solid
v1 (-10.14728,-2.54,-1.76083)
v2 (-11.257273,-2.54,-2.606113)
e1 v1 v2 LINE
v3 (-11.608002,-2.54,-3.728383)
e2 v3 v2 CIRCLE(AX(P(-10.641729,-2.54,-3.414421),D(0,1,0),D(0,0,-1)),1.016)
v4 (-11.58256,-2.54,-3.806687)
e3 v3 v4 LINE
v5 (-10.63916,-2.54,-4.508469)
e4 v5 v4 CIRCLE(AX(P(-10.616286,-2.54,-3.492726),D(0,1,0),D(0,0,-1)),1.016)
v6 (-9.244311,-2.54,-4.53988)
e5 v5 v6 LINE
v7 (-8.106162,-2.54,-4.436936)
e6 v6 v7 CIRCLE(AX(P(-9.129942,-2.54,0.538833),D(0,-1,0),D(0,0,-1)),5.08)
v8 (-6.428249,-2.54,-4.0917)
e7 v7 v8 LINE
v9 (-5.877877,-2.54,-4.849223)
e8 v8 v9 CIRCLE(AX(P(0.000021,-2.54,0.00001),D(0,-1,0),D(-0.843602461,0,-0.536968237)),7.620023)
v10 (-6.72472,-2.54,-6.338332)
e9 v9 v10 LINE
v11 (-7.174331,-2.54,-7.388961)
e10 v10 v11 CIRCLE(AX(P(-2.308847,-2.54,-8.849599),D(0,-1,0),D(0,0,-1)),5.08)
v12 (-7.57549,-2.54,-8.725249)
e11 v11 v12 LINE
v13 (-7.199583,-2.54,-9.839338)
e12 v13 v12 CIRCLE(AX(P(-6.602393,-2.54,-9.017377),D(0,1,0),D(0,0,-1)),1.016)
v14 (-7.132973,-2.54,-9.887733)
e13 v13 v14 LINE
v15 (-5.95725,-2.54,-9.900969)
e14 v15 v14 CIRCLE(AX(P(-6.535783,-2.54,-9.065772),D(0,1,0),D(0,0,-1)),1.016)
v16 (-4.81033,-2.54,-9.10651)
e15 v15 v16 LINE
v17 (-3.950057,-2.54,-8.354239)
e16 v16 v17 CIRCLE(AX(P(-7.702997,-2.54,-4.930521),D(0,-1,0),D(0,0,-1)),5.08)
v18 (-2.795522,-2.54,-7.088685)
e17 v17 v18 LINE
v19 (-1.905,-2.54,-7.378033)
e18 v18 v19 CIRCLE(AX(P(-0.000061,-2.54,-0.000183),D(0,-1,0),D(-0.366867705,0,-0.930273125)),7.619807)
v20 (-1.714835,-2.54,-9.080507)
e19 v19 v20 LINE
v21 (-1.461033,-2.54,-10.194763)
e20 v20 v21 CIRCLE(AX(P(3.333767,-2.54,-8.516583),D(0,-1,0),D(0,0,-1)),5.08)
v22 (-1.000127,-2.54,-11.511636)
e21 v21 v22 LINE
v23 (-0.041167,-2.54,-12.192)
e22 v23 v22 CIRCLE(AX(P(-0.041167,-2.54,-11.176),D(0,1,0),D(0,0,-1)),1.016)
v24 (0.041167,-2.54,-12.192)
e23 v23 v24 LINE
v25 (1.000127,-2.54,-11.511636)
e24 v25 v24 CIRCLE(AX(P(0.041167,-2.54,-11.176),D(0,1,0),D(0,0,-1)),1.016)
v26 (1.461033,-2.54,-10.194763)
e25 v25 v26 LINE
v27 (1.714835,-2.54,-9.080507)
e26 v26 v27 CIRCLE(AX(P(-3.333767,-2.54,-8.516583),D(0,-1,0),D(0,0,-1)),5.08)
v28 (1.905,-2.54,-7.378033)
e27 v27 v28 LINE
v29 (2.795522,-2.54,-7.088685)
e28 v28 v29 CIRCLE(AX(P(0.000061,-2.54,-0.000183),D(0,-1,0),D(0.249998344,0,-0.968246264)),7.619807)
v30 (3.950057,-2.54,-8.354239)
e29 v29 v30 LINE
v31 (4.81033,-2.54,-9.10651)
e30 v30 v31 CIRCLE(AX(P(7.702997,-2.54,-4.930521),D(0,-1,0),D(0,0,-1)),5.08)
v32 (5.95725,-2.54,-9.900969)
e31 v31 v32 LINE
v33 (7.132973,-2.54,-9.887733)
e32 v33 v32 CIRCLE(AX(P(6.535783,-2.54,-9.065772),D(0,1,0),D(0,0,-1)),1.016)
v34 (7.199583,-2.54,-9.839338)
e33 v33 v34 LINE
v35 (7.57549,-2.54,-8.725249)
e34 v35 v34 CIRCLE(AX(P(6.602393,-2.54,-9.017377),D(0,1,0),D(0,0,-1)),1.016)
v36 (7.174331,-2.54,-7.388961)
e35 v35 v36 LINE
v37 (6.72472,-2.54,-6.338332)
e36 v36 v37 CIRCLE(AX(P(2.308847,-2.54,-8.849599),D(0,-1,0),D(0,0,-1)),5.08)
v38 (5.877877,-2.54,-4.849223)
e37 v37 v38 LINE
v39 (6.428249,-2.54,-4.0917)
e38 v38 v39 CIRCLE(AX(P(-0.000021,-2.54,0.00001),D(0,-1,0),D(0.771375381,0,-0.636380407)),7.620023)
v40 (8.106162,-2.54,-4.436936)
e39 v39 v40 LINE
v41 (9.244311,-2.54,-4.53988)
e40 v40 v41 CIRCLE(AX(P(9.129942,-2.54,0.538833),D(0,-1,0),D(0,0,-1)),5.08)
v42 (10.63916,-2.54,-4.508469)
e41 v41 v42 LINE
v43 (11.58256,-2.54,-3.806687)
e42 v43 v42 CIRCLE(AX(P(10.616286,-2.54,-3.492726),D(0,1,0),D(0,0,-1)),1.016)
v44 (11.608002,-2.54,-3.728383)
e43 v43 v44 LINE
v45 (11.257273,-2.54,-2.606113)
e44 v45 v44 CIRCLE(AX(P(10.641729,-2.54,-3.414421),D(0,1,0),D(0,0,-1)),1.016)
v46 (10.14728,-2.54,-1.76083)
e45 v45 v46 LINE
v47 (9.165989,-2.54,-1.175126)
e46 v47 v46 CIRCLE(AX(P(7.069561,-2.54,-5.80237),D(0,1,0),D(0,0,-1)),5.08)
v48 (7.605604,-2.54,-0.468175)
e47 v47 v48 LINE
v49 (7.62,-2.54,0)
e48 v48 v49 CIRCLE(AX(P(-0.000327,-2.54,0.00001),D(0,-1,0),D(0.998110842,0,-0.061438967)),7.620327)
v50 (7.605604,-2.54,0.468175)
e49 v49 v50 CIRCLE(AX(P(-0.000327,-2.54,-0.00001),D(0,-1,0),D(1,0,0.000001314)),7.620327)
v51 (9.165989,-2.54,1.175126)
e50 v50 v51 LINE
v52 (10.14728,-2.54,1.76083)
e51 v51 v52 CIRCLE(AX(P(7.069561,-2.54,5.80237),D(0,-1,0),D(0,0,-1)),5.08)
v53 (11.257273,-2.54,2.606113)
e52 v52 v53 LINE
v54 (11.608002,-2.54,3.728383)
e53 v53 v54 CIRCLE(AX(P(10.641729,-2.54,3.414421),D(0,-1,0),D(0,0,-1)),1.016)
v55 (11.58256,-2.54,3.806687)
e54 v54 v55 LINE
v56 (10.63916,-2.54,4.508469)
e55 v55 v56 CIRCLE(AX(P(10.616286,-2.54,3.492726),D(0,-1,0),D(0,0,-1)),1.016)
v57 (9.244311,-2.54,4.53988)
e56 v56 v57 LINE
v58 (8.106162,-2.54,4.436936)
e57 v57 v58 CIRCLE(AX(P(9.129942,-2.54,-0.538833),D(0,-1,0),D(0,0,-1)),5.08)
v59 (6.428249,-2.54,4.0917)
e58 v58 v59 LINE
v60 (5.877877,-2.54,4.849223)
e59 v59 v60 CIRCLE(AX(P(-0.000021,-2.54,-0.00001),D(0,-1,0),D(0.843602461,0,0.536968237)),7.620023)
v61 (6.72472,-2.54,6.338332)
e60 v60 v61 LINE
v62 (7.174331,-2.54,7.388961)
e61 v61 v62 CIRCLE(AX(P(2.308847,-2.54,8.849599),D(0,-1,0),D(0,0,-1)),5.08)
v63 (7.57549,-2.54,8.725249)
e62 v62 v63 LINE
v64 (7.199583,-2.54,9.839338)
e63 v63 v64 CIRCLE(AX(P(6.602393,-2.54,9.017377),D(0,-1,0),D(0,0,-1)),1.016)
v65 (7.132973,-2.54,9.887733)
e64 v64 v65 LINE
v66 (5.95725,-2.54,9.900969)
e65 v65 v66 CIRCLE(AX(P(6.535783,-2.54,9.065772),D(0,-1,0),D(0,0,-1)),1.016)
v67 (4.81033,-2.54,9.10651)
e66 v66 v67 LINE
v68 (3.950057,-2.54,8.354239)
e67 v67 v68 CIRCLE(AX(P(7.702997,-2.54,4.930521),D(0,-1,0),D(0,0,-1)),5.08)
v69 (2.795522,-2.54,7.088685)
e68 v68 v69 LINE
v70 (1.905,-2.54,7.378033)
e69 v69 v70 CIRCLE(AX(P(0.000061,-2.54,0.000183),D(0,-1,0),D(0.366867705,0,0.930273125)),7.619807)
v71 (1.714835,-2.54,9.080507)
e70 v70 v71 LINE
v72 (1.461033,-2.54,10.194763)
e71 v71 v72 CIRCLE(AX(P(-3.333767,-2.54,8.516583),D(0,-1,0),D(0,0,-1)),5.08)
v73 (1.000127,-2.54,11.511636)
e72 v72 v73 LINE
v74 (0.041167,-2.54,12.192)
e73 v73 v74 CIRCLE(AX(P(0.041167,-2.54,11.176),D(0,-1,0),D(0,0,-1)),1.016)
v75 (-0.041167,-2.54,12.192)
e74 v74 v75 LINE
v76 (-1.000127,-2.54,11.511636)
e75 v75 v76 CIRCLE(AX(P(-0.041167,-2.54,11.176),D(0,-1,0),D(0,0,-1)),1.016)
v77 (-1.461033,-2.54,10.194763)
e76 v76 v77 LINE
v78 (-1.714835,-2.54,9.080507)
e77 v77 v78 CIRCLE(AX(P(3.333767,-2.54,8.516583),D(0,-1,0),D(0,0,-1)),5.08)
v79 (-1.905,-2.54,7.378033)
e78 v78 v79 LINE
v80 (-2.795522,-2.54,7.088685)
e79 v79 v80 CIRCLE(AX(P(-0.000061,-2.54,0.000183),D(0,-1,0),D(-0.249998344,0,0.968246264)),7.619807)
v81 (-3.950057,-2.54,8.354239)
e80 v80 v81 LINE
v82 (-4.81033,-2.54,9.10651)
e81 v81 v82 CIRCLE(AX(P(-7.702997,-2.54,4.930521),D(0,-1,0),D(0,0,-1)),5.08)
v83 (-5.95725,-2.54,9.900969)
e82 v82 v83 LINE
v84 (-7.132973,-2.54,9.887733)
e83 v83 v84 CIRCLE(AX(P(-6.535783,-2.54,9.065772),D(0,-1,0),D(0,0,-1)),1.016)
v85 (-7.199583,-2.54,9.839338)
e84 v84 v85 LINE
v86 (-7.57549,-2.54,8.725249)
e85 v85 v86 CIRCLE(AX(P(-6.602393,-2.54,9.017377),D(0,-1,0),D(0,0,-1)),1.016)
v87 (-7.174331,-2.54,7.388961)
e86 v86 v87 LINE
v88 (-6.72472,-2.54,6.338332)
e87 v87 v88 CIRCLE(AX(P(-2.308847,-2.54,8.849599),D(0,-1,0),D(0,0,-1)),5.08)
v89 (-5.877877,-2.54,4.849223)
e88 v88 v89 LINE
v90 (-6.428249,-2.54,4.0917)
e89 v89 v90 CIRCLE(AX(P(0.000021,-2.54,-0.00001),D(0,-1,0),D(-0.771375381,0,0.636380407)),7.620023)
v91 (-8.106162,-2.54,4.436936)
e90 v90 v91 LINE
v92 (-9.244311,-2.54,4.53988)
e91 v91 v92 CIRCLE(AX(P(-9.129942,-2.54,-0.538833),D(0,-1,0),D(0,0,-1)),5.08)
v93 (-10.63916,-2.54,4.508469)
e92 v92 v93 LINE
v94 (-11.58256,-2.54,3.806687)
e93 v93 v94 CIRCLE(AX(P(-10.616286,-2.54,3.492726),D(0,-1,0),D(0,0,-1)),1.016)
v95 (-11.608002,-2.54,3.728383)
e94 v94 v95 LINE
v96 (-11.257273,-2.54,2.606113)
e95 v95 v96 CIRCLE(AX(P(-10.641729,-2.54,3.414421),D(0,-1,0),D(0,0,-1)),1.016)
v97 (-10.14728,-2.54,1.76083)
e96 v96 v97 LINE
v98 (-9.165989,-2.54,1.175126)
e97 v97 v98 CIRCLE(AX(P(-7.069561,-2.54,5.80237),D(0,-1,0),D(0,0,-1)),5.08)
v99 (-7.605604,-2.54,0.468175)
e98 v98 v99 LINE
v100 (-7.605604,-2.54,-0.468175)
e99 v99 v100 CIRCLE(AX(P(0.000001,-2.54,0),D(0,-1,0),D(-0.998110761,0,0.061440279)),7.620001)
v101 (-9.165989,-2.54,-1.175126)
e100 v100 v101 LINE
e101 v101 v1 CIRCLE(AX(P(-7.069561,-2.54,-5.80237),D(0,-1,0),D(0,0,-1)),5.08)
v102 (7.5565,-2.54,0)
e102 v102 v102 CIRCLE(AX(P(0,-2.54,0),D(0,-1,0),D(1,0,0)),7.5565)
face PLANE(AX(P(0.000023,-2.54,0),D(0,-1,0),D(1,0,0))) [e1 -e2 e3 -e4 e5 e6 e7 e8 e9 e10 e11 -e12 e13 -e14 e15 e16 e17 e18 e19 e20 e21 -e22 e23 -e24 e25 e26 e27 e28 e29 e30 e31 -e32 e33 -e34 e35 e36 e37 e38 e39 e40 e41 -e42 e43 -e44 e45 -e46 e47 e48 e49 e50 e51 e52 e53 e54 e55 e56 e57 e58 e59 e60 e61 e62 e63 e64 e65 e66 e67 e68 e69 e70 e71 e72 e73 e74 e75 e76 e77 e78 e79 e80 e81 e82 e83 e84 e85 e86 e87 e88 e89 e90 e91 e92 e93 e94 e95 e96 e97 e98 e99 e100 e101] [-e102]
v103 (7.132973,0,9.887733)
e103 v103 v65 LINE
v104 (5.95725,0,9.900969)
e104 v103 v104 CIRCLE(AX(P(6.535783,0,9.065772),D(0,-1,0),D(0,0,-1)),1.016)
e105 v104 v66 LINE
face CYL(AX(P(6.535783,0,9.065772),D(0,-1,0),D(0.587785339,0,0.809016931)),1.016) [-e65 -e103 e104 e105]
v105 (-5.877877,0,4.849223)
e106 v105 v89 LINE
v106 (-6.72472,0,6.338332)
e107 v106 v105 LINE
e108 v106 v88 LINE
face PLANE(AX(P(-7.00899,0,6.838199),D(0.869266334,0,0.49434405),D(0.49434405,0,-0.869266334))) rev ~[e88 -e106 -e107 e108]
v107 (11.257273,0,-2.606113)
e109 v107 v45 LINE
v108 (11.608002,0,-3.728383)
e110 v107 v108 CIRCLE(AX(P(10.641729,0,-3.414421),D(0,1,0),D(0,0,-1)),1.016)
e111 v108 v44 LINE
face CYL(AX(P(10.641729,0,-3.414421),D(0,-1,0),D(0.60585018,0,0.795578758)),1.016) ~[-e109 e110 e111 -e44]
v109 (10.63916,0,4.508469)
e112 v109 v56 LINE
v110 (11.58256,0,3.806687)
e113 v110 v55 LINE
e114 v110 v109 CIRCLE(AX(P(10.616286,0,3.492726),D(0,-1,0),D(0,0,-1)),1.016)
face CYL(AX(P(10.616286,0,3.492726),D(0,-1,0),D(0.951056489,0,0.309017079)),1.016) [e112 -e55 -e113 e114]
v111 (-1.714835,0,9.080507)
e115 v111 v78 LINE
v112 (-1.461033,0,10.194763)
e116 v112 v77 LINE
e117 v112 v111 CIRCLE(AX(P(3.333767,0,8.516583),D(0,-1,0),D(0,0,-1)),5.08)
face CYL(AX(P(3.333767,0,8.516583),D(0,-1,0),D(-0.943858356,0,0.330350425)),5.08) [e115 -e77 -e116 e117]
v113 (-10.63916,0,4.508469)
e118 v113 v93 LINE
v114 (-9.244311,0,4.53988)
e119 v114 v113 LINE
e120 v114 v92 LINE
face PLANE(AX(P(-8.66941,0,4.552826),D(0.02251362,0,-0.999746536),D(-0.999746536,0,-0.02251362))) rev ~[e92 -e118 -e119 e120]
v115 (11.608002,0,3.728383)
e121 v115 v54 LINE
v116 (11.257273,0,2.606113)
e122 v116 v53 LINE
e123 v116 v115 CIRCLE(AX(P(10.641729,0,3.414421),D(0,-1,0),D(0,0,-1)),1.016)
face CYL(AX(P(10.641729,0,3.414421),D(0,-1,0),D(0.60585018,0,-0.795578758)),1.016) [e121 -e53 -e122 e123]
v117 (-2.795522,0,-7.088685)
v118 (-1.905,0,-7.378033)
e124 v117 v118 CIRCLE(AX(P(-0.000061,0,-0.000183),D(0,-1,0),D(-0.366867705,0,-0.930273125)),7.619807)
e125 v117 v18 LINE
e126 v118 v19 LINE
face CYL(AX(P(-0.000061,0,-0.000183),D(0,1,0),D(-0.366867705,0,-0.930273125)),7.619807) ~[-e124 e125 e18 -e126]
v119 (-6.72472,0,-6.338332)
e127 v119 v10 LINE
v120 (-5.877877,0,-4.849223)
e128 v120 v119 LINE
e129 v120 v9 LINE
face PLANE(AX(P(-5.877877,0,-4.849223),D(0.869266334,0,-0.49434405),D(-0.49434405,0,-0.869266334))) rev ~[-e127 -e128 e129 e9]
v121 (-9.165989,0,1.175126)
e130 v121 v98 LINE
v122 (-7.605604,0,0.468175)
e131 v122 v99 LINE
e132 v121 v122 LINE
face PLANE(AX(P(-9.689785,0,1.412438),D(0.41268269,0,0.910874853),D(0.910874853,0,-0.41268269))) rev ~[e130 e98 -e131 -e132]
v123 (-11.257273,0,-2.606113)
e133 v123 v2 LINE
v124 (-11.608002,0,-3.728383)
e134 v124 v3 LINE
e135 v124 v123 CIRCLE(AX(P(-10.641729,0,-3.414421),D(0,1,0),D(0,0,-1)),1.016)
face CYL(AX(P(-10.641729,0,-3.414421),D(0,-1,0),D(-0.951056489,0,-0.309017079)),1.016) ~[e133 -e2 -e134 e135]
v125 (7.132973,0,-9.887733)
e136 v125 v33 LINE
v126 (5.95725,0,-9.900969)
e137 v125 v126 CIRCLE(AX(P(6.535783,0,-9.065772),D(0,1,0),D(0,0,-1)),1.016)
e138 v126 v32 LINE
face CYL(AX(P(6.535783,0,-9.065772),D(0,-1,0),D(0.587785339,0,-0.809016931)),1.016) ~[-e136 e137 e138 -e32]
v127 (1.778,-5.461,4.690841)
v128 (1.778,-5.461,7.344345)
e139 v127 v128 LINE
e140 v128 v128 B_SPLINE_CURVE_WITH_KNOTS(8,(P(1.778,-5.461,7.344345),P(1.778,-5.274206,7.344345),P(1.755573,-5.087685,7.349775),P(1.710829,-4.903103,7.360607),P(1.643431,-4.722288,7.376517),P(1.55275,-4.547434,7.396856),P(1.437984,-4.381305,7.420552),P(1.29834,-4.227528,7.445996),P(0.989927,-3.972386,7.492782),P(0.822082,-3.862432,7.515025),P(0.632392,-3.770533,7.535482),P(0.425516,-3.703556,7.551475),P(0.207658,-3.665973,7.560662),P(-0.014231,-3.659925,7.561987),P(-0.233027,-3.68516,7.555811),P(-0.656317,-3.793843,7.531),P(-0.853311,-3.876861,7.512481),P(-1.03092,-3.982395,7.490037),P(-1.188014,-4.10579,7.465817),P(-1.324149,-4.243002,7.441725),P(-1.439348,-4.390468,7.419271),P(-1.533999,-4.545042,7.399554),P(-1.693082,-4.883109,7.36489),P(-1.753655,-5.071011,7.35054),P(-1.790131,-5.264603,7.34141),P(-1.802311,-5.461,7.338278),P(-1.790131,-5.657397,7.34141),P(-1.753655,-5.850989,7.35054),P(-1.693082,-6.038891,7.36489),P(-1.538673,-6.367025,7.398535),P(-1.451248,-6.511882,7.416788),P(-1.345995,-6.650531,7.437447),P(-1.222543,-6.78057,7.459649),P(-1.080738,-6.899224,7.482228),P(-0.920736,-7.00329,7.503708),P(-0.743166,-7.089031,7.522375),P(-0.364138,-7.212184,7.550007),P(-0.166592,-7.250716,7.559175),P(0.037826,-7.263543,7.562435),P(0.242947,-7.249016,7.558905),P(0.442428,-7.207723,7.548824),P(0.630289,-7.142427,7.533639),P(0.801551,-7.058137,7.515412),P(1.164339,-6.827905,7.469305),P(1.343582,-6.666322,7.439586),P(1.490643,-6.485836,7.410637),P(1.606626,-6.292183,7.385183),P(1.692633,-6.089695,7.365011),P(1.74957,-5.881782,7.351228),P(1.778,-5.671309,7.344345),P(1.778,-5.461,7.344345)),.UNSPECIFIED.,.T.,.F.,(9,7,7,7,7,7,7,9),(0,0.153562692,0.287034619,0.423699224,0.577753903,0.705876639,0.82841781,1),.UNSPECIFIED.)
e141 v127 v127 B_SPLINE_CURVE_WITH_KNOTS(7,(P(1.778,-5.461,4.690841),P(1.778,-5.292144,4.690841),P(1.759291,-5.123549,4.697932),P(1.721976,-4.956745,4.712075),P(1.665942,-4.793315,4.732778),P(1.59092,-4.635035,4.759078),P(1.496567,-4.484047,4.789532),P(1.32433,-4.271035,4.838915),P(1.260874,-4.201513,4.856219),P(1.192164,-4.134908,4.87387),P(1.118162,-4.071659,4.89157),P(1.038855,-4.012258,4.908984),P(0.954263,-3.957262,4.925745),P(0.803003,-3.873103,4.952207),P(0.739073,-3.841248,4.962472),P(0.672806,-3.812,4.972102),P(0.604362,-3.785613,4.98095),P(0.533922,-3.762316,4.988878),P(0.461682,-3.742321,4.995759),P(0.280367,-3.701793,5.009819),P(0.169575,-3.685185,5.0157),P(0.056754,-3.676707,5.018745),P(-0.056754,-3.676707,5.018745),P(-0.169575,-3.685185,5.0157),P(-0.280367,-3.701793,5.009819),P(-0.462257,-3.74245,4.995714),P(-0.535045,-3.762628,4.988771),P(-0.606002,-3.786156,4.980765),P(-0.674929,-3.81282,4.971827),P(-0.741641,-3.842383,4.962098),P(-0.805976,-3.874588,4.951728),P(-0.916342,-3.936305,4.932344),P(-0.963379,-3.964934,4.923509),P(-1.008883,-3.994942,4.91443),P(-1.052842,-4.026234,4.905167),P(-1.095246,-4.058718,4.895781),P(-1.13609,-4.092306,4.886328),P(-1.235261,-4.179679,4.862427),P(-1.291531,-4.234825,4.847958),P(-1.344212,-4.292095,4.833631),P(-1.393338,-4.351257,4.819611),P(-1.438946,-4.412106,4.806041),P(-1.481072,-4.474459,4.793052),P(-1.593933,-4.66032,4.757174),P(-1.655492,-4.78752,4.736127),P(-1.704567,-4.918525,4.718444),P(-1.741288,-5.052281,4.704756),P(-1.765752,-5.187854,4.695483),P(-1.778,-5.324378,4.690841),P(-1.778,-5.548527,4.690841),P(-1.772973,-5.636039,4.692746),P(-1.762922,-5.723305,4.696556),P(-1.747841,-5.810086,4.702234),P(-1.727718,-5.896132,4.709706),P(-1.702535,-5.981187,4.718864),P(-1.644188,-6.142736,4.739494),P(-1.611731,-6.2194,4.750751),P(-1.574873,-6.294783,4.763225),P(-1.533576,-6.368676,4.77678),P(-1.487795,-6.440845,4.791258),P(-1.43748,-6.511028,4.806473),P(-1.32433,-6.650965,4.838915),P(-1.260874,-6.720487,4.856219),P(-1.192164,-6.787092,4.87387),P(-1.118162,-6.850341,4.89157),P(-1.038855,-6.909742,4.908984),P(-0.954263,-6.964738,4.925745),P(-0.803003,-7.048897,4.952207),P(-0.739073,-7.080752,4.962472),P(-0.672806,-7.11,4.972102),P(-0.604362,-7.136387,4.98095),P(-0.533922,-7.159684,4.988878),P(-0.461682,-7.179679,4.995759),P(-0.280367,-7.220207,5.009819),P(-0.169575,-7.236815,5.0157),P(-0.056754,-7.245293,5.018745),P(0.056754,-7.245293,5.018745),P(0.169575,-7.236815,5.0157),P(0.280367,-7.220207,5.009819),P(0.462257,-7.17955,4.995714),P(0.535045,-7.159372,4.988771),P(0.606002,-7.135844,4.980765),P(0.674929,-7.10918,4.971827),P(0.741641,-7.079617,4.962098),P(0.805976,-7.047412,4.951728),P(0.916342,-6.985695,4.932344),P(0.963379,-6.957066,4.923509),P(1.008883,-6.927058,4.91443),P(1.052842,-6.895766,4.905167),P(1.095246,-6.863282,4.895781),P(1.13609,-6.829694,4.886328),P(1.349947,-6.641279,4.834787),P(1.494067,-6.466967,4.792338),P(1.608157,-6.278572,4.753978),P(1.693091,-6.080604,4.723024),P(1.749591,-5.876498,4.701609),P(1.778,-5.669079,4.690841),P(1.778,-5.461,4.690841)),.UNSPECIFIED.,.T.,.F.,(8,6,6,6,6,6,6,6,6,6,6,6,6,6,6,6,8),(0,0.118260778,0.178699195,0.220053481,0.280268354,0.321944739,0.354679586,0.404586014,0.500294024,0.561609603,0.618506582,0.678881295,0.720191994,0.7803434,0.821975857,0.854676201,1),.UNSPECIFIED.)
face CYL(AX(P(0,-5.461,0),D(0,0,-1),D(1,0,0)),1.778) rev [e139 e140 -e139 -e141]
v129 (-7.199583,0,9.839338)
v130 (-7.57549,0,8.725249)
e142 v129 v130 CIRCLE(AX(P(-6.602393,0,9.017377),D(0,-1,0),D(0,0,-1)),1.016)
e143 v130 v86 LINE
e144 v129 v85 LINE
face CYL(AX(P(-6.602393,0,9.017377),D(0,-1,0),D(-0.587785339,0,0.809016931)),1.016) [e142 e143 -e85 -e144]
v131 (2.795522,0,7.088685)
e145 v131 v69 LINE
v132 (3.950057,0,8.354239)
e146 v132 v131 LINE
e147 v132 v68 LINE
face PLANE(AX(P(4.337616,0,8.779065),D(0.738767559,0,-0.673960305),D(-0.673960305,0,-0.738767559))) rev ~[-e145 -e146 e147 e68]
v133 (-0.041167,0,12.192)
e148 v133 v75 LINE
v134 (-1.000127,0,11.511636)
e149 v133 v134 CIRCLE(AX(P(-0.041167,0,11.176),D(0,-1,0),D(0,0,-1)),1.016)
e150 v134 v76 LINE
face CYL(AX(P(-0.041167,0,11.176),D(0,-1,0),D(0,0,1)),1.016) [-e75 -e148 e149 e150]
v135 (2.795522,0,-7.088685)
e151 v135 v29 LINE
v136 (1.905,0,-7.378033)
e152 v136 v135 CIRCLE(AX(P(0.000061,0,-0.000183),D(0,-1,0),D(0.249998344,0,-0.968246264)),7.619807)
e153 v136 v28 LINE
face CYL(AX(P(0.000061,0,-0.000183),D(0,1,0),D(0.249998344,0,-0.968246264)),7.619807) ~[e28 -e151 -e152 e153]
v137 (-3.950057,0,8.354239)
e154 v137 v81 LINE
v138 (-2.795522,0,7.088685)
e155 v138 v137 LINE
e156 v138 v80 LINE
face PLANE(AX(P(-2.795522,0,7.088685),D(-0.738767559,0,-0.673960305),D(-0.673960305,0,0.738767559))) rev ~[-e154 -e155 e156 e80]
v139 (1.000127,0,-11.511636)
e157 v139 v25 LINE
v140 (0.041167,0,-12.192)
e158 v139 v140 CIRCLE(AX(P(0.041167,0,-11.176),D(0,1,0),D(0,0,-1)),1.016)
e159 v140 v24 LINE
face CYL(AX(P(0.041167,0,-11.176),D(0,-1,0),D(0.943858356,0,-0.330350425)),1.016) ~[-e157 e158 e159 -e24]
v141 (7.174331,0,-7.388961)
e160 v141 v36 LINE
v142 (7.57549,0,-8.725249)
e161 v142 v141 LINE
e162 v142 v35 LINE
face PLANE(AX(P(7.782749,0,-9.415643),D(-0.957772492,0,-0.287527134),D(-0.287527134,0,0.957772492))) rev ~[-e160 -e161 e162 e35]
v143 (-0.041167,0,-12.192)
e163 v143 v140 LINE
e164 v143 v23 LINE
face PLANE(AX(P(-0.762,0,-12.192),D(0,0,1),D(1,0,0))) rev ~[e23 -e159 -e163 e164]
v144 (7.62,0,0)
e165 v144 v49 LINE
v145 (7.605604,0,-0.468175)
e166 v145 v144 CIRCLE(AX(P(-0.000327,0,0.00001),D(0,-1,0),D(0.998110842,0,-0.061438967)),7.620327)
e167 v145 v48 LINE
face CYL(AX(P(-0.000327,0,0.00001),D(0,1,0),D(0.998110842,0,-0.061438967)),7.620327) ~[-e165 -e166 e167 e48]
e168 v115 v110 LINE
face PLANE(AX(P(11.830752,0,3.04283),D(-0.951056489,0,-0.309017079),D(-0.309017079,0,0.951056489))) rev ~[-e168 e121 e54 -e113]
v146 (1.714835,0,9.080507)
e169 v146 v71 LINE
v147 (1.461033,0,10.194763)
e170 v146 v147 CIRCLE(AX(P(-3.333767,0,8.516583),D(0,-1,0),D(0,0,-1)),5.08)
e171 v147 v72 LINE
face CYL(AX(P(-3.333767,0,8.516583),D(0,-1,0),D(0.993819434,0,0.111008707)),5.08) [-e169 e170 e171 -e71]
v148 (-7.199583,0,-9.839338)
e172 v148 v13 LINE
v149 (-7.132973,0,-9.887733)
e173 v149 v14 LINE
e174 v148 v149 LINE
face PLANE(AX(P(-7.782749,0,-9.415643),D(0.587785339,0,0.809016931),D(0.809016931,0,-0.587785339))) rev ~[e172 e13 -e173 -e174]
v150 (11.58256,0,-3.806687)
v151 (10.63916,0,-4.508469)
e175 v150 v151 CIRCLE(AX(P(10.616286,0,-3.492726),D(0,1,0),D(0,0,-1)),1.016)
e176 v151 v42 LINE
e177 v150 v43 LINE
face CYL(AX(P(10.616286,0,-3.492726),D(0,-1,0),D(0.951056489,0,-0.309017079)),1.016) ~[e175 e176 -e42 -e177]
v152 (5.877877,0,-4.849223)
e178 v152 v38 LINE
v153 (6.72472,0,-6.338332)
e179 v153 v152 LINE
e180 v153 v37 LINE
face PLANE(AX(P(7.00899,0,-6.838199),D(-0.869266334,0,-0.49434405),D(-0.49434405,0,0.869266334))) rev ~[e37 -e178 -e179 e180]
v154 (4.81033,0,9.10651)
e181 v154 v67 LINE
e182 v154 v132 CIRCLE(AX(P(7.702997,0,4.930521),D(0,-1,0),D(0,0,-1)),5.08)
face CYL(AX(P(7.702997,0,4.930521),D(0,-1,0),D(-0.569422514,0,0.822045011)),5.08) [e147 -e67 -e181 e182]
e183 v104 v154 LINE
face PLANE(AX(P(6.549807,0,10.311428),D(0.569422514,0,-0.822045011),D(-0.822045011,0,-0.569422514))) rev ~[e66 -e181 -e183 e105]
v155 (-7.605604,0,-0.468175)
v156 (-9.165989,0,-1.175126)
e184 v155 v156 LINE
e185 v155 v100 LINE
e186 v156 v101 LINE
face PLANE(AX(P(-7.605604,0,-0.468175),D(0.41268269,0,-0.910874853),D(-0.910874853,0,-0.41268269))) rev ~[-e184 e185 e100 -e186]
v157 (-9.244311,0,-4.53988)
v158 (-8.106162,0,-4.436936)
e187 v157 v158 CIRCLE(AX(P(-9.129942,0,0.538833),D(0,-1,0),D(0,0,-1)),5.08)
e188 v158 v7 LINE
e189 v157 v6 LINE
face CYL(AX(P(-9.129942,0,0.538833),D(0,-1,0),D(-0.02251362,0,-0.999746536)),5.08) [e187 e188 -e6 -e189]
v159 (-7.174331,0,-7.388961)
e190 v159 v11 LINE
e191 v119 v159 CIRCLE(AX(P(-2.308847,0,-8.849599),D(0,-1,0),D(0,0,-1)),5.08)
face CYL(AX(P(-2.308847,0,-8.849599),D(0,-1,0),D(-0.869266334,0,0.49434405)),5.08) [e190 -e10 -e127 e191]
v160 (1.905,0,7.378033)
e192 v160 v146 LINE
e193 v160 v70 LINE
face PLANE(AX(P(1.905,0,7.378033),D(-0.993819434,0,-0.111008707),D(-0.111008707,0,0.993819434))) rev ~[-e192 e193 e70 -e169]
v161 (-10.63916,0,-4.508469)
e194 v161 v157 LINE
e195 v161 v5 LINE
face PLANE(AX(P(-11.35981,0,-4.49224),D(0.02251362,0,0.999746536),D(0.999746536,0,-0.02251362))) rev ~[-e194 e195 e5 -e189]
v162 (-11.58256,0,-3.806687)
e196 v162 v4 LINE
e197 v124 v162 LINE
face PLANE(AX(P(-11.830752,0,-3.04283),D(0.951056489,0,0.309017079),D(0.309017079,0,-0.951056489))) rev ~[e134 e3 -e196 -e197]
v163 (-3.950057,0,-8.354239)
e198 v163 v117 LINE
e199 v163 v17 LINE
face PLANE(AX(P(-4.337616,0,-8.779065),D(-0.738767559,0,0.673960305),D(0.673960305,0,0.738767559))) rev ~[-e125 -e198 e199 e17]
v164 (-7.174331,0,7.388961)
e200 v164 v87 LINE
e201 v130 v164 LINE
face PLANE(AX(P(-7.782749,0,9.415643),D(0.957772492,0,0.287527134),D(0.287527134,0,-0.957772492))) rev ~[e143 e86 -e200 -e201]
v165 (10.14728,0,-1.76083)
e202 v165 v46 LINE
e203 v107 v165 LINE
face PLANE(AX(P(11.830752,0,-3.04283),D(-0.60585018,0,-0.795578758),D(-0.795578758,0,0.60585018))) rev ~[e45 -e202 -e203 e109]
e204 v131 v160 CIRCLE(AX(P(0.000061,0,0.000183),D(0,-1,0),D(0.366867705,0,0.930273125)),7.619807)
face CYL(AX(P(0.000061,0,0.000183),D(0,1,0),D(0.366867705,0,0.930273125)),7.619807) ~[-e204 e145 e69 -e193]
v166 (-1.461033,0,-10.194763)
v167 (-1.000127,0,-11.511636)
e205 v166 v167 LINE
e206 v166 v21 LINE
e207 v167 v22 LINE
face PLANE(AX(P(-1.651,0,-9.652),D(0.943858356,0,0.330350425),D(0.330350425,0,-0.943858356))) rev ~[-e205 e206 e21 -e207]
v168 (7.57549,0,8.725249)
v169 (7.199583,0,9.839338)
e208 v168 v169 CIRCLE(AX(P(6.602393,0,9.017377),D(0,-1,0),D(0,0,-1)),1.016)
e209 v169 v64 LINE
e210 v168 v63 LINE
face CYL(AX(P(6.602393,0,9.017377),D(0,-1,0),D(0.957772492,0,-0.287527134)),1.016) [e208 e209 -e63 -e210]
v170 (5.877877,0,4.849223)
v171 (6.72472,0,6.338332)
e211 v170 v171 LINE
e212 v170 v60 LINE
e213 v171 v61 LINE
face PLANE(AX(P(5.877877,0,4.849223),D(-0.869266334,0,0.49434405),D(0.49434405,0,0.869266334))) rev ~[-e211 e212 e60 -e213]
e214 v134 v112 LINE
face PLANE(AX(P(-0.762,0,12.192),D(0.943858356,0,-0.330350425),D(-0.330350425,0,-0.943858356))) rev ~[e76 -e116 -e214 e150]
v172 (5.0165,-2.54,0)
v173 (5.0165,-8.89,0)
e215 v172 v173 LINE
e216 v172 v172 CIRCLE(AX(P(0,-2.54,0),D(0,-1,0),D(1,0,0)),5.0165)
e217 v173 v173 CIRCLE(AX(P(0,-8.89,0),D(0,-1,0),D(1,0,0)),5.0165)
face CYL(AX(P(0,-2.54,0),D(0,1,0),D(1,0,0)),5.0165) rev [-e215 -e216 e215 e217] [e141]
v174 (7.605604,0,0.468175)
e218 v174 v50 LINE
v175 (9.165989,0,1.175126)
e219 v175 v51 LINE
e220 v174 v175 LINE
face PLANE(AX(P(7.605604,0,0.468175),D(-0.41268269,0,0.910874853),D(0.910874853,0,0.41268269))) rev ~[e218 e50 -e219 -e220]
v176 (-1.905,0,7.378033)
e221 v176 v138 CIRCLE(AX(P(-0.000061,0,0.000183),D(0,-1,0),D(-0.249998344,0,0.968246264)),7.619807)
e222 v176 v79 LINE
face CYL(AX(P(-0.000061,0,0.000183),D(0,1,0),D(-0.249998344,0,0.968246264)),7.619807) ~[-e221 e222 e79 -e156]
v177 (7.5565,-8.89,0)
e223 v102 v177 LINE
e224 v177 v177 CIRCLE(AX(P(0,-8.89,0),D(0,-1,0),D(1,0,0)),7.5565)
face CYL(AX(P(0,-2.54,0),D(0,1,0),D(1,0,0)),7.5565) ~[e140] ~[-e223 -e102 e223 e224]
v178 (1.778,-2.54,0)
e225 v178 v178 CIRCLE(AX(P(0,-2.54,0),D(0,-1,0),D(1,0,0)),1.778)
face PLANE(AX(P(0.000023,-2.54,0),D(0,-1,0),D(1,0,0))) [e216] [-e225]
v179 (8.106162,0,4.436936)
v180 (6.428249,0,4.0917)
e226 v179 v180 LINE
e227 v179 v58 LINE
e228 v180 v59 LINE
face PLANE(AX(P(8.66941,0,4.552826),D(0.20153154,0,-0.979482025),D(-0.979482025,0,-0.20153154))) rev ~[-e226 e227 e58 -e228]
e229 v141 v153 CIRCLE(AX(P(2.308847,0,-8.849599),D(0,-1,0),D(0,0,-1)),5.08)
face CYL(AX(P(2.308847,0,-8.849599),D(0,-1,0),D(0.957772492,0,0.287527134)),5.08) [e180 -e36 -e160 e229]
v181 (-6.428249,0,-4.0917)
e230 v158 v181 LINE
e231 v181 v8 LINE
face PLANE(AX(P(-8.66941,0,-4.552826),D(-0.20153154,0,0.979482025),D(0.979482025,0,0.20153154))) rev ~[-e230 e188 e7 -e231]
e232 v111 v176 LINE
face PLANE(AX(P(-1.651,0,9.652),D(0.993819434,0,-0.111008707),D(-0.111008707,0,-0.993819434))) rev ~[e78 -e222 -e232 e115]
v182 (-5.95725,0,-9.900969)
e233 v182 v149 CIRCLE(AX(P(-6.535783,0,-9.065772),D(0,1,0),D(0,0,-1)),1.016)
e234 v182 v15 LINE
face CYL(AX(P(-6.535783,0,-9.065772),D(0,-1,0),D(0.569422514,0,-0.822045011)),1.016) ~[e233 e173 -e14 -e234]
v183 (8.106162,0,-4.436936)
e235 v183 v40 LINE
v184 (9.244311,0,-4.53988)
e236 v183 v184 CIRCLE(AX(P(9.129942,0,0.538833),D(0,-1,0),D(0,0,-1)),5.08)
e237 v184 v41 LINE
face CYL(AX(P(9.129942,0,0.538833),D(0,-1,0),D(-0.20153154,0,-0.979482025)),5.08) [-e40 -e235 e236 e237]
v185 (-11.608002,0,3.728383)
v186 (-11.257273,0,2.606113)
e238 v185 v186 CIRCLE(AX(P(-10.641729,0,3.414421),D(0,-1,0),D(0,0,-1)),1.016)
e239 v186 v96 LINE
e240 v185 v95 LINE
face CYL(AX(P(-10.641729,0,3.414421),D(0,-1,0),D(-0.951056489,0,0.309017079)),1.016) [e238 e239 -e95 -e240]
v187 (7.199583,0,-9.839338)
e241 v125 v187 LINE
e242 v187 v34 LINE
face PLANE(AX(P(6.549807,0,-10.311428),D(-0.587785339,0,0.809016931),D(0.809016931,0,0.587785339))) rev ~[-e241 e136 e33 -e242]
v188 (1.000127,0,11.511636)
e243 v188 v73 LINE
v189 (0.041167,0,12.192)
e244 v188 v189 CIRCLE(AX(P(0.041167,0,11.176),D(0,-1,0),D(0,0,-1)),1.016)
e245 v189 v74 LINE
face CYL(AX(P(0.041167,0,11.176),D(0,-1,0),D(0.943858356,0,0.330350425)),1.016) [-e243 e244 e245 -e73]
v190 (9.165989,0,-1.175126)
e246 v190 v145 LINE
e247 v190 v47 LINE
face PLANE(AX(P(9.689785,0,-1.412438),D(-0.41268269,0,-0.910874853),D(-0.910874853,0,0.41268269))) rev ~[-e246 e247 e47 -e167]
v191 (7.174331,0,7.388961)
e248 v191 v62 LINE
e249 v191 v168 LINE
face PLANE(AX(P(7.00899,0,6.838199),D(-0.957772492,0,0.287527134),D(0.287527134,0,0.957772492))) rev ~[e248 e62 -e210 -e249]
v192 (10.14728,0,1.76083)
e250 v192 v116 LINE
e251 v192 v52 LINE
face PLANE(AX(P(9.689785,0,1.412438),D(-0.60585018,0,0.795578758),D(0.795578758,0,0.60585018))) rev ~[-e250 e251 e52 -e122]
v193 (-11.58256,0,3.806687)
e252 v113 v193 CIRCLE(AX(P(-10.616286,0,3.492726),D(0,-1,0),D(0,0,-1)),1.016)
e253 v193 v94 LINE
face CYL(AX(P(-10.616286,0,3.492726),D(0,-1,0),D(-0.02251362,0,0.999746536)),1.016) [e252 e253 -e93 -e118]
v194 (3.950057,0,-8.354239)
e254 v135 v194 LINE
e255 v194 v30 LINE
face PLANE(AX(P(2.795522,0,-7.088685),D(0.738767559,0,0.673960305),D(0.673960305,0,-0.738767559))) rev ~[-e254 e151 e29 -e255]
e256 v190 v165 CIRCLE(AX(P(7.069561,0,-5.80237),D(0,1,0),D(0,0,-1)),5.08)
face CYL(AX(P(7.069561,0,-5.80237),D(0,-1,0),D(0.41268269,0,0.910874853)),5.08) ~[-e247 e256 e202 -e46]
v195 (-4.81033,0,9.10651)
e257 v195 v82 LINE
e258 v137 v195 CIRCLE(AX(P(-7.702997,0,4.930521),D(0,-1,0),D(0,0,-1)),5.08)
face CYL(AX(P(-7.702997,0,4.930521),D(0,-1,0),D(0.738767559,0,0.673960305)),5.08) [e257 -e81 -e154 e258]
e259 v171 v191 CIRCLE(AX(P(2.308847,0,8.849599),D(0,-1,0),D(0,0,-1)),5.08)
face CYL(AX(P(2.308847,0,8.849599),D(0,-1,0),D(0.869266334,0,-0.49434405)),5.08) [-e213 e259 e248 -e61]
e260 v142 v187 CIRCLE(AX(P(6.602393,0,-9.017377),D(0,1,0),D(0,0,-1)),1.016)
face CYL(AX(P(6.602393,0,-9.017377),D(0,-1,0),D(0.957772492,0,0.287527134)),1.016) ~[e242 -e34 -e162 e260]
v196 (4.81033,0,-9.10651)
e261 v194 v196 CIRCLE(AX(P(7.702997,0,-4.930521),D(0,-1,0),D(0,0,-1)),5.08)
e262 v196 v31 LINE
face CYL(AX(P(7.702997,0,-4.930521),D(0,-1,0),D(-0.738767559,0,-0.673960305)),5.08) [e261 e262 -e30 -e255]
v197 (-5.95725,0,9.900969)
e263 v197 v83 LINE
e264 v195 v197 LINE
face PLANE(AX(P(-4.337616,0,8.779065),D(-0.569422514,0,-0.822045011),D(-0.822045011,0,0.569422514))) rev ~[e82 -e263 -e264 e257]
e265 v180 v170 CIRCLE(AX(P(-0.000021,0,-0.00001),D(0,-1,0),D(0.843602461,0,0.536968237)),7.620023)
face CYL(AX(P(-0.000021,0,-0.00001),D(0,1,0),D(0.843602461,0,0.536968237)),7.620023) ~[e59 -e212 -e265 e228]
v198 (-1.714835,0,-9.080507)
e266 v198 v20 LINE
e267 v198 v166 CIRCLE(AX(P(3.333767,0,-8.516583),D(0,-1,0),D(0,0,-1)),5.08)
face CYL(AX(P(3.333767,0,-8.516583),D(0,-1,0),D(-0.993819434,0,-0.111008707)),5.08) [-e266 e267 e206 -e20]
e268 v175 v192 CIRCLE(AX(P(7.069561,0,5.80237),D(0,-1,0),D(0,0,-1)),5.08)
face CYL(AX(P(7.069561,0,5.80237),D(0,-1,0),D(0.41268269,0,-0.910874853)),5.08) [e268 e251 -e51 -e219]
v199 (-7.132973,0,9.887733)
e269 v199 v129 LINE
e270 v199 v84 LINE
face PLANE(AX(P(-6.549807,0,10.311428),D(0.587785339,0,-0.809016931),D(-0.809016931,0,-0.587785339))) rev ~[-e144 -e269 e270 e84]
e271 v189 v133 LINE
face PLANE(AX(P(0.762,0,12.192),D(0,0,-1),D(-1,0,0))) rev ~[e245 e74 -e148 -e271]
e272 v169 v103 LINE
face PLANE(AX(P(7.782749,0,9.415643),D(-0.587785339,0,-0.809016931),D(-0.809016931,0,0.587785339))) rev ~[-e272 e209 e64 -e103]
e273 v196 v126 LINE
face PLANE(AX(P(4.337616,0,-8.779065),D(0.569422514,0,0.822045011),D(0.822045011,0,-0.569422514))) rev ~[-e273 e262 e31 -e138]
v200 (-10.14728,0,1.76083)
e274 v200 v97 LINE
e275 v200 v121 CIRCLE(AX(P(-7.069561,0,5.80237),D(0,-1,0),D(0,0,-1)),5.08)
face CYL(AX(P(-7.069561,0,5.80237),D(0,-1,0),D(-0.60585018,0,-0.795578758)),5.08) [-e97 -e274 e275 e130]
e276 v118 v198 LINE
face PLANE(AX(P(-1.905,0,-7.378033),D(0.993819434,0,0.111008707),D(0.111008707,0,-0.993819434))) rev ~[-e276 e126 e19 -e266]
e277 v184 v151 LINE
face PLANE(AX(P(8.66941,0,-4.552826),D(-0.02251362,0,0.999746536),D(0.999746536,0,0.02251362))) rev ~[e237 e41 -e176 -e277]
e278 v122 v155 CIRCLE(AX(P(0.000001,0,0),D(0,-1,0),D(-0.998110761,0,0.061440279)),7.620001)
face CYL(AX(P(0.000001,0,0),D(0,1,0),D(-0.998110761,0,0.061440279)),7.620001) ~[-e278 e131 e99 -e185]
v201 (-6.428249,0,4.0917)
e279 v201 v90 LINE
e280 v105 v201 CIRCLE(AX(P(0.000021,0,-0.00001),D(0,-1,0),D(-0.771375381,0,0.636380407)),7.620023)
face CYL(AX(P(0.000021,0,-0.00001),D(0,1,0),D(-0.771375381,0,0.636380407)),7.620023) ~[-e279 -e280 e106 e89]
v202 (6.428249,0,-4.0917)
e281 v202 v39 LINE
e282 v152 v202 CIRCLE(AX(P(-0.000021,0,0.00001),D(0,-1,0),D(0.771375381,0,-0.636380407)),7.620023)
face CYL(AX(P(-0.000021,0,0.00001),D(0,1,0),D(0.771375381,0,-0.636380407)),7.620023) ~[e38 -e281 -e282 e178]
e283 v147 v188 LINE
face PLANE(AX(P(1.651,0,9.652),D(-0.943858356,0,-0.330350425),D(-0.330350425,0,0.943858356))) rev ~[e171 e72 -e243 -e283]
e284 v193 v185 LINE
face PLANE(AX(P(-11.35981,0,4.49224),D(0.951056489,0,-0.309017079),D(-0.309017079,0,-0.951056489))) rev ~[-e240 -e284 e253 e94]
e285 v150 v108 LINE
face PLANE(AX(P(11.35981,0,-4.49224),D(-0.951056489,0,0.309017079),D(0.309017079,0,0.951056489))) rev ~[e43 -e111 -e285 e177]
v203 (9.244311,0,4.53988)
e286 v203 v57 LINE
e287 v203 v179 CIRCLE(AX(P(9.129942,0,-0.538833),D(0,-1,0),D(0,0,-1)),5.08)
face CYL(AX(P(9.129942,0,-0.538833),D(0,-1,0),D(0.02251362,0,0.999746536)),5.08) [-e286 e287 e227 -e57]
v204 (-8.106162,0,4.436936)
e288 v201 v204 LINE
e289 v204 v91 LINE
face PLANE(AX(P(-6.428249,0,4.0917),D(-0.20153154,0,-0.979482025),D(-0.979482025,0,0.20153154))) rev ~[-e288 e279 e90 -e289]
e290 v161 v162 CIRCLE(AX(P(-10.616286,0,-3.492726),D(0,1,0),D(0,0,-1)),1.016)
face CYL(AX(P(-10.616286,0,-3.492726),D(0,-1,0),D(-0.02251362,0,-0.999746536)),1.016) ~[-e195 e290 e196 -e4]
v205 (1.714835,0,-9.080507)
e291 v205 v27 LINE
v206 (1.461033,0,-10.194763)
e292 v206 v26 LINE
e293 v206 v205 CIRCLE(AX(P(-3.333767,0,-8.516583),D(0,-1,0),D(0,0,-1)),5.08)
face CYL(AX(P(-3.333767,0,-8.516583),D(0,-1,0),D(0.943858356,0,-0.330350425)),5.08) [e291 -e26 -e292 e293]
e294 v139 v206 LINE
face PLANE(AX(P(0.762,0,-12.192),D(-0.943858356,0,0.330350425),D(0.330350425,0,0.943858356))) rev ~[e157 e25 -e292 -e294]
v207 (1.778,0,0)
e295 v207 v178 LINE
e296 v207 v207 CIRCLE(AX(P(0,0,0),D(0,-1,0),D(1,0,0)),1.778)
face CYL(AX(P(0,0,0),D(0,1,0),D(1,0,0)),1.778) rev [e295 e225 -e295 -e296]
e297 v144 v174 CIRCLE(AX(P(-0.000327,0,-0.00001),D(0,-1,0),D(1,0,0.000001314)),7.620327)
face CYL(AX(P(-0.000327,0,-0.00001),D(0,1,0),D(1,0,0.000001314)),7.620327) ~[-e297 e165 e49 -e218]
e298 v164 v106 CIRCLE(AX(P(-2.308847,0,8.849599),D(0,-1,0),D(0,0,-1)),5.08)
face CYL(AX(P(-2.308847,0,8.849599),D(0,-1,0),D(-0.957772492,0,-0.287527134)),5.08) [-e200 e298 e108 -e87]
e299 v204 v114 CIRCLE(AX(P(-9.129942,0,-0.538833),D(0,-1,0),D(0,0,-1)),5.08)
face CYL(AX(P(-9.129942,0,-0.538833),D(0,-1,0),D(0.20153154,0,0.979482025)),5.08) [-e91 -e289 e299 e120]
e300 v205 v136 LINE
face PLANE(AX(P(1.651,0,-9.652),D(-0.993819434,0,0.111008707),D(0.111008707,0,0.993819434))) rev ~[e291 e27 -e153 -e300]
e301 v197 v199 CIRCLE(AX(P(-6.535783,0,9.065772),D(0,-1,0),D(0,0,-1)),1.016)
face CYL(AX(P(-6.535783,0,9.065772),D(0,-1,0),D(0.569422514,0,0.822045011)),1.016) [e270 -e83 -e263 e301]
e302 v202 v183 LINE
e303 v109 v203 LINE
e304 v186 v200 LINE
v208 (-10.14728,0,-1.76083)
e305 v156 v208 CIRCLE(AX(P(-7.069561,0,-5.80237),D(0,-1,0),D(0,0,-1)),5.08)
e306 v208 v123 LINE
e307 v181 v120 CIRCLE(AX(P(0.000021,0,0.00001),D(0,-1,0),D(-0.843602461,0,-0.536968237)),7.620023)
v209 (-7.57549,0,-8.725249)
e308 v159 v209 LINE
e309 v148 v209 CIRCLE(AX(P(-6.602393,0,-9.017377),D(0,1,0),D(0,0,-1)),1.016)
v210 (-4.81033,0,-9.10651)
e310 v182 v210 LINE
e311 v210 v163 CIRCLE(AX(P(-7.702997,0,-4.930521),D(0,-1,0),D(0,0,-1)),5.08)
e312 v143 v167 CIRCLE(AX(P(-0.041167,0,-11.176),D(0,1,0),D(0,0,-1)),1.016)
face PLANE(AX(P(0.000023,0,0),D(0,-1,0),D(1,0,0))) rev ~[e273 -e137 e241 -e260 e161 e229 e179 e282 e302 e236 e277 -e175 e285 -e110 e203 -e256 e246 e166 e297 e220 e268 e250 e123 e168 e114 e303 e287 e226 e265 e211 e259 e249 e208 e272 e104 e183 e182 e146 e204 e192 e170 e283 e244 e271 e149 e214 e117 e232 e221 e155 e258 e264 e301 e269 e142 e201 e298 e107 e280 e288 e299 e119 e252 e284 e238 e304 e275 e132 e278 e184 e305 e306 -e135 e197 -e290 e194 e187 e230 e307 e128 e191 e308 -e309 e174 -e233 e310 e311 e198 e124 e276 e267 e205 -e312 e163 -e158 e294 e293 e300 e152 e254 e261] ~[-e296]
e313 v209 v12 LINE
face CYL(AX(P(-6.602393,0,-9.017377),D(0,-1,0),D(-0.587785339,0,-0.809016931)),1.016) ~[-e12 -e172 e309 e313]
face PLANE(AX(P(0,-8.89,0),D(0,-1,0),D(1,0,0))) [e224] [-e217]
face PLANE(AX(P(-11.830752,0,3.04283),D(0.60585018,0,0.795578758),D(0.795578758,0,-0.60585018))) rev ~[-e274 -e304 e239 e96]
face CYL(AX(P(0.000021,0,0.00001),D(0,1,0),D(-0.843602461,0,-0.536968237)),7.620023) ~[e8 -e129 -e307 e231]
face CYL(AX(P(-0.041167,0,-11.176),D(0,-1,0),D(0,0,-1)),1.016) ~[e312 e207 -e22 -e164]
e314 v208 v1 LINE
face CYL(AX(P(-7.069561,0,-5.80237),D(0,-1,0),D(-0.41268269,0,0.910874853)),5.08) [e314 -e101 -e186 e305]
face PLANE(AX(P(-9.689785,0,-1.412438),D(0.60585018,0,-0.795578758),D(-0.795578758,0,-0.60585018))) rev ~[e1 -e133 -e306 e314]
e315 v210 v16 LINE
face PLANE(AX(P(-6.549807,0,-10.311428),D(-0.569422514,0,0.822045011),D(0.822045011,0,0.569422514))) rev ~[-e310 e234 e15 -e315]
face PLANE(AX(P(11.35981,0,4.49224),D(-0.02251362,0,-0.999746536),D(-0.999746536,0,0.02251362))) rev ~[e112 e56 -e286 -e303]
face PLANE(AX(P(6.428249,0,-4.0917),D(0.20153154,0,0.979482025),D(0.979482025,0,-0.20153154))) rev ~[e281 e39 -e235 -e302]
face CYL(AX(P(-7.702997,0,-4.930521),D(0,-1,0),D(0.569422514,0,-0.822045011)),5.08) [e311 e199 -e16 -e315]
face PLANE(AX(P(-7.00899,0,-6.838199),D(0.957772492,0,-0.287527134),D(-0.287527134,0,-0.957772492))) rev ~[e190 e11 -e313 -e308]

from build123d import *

# Parameters (mm, degrees)
F0_R     = 1.778
F1_DEPTH = 2.54
F2_R     = 7.5565
F2_R_2   = 5.0165
F3_DEPTH = 6.35
F4_R     = 5.08
F5_R     = 1.016
F6_R     = 1.778
F7_DEPTH = 25.4


with BuildPart() as f1:
    # F0 (on Front) → F1 (new body)
    with BuildSketch(Plane.XZ):
        with BuildLine():
            ThreePointArc((7.605604, -0.468175), (7.6164, -0.234198), (7.62, 0))
            ThreePointArc((7.62, 0), (7.6164, 0.234198), (7.605604, 0.468175))
            ThreePointArc((7.605604, 0.468175), (7.247051, 2.354709), (6.428249, 4.0917))
            ThreePointArc((6.428249, 4.0917), (6.164709, 4.478924), (5.877877, 4.849223))
            ThreePointArc((5.877877, 4.849223), (4.478924, 6.164709), (2.795522, 7.088685))
            ThreePointArc((2.795522, 7.088685), (2.354709, 7.247051), (1.905, 7.378033))
            ThreePointArc((1.905, 7.378033), (0, 7.62), (-1.905, 7.378033))
            ThreePointArc((-1.905, 7.378033), (-2.354709, 7.247051), (-2.795522, 7.088685))
            ThreePointArc((-2.795522, 7.088685), (-4.478924, 6.164709), (-5.877877, 4.849223))
            ThreePointArc((-5.877877, 4.849223), (-6.164709, 4.478924), (-6.428249, 4.0917))
            ThreePointArc((-6.428249, 4.0917), (-7.247051, 2.354709), (-7.605604, 0.468175))
            ThreePointArc((-7.605604, 0.468175), (-7.62, 0), (-7.605604, -0.468175))
            ThreePointArc((-7.605604, -0.468175), (-7.247051, -2.354709), (-6.428249, -4.0917))
            ThreePointArc((-6.428249, -4.0917), (-6.164709, -4.478924), (-5.877877, -4.849223))
            ThreePointArc((-5.877877, -4.849223), (-4.478924, -6.164709), (-2.795522, -7.088685))
            ThreePointArc((-2.795522, -7.088685), (-2.354709, -7.247051), (-1.905, -7.378033))
            ThreePointArc((-1.905, -7.378033), (0, -7.62), (1.905, -7.378033))
            ThreePointArc((1.905, -7.378033), (2.354709, -7.247051), (2.795522, -7.088685))
            ThreePointArc((2.795522, -7.088685), (4.478924, -6.164709), (5.877877, -4.849223))
            ThreePointArc((5.877877, -4.849223), (6.164709, -4.478924), (6.428249, -4.0917))
            ThreePointArc((6.428249, -4.0917), (7.247051, -2.354709), (7.605604, -0.468175))
        make_face()
        Circle(F0_R, mode=Mode.SUBTRACT)
        with BuildLine():
            ThreePointArc((6.428249, 4.0917), (7.247051, 2.354709), (7.605604, 0.468175))
            Line((7.605604, 0.468175), (9.689785, 1.412438))
            Line((9.689785, 1.412438), (11.830752, 3.04283))
            Line((11.830752, 3.04283), (11.35981, 4.49224))
            Line((11.35981, 4.49224), (8.66941, 4.552826))
            Line((8.66941, 4.552826), (6.428249, 4.0917))
        make_face()
        with BuildLine():
            Line((9.689785, -1.412438), (7.605604, -0.468175))
            ThreePointArc((7.605604, -0.468175), (7.247051, -2.354709), (6.428249, -4.0917))
            Line((6.428249, -4.0917), (8.66941, -4.552826))
            Line((8.66941, -4.552826), (11.35981, -4.49224))
            Line((11.35981, -4.49224), (11.830752, -3.04283))
            Line((11.830752, -3.04283), (9.689785, -1.412438))
        make_face()
        with BuildLine():
            ThreePointArc((2.795522, 7.088685), (4.478924, 6.164709), (5.877877, 4.849223))
            Line((5.877877, 4.849223), (7.00899, 6.838199))
            Line((7.00899, 6.838199), (7.782749, 9.415643))
            Line((7.782749, 9.415643), (6.549807, 10.311428))
            Line((6.549807, 10.311428), (4.337616, 8.779065))
            Line((4.337616, 8.779065), (2.795522, 7.088685))
        make_face()
        with BuildLine():
            Line((7.00899, -6.838199), (5.877877, -4.849223))
            ThreePointArc((5.877877, -4.849223), (4.478924, -6.164709), (2.795522, -7.088685))
            Line((2.795522, -7.088685), (4.337616, -8.779065))
            Line((4.337616, -8.779065), (6.549807, -10.311428))
            Line((6.549807, -10.311428), (7.782749, -9.415643))
            Line((7.782749, -9.415643), (7.00899, -6.838199))
        make_face()
        with BuildLine():
            ThreePointArc((-1.905, 7.378033), (0, 7.62), (1.905, 7.378033))
            Line((1.905, 7.378033), (1.651, 9.652))
            Line((1.651, 9.652), (0.762, 12.192))
            Line((0.762, 12.192), (-0.762, 12.192))
            Line((-0.762, 12.192), (-1.651, 9.652))
            Line((-1.651, 9.652), (-1.905, 7.378033))
        make_face()
        with BuildLine():
            Line((1.651, -9.652), (1.905, -7.378033))
            ThreePointArc((1.905, -7.378033), (0, -7.62), (-1.905, -7.378033))
            Line((-1.905, -7.378033), (-1.651, -9.652))
            Line((-1.651, -9.652), (-0.762, -12.192))
            Line((-0.762, -12.192), (0.762, -12.192))
            Line((0.762, -12.192), (1.651, -9.652))
        make_face()
        with BuildLine():
            ThreePointArc((-5.877877, 4.849223), (-4.478924, 6.164709), (-2.795522, 7.088685))
            Line((-2.795522, 7.088685), (-4.337616, 8.779065))
            Line((-4.337616, 8.779065), (-6.549807, 10.311428))
            Line((-6.549807, 10.311428), (-7.782749, 9.415643))
            Line((-7.782749, 9.415643), (-7.00899, 6.838199))
            Line((-7.00899, 6.838199), (-5.877877, 4.849223))
        make_face()
        with BuildLine():
            Line((-4.337616, -8.779065), (-2.795522, -7.088685))
            ThreePointArc((-2.795522, -7.088685), (-4.478924, -6.164709), (-5.877877, -4.849223))
            Line((-5.877877, -4.849223), (-7.00899, -6.838199))
            Line((-7.00899, -6.838199), (-7.782749, -9.415643))
            Line((-7.782749, -9.415643), (-6.549807, -10.311428))
            Line((-6.549807, -10.311428), (-4.337616, -8.779065))
        make_face()
        with BuildLine():
            ThreePointArc((-7.605604, 0.468175), (-7.247051, 2.354709), (-6.428249, 4.0917))
            Line((-6.428249, 4.0917), (-8.66941, 4.552826))
            Line((-8.66941, 4.552826), (-11.35981, 4.49224))
            Line((-11.35981, 4.49224), (-11.830752, 3.04283))
            Line((-11.830752, 3.04283), (-9.689785, 1.412438))
            Line((-9.689785, 1.412438), (-7.605604, 0.468175))
        make_face()
        with BuildLine():
            Line((-8.66941, -4.552826), (-6.428249, -4.0917))
            ThreePointArc((-6.428249, -4.0917), (-7.247051, -2.354709), (-7.605604, -0.468175))
            Line((-7.605604, -0.468175), (-9.689785, -1.412438))
            Line((-9.689785, -1.412438), (-11.830752, -3.04283))
            Line((-11.830752, -3.04283), (-11.35981, -4.49224))
            Line((-11.35981, -4.49224), (-8.66941, -4.552826))
        make_face()
    extrude(amount=F1_DEPTH)

    # F2 (on face) → F3 (join)
    with BuildSketch(Plane.XZ.offset(2.54)):
        Circle(F2_R)
        Circle(F2_R_2, mode=Mode.SUBTRACT)
    extrude(amount=F3_DEPTH)

    # F4
    f4_edges = [f1.edges().sort_by_distance(p)[0] for p in [
        (7.00899, -1.27, 6.838199),
        (4.337616, -1.27, 8.779065),
        (1.651, -1.27, 9.652),
        (-4.337616, -1.27, 8.779065),
        (-8.66941, -1.27, 4.552826),
        (-9.689785, -1.27, -1.412438),
        (-7.00899, -1.27, -6.838199),
        (-1.651, -1.27, -9.652),
        (4.337616, -1.27, -8.779065),
        (8.66941, -1.27, -4.552826),
        (9.689785, -1.27, 1.412438),
        (9.689785, -1.27, -1.412438),
        (8.66941, -1.27, 4.552826),
        (-1.651, -1.27, 9.652),
        (-7.00899, -1.27, 6.838199),
        (-9.689785, -1.27, 1.412438),
        (-8.66941, -1.27, -4.552826),
        (-4.337616, -1.27, -8.779065),
        (1.651, -1.27, -9.652),
        (7.00899, -1.27, -6.838199),
    ]]
    fillet(f4_edges, radius=F4_R)

    # F5
    f5_edges = [f1.edges().sort_by_distance(p)[0] for p in [
        (0.762, -1.27, 12.192),
        (-0.762, -1.27, 12.192),
        (-6.549807, -1.27, 10.311428),
        (-7.782749, -1.27, 9.415643),
        (-11.35981, -1.27, 4.49224),
        (6.549807, -1.27, 10.311428),
        (7.782749, -1.27, 9.415643),
        (11.35981, -1.27, 4.49224),
        (-11.830752, -1.27, 3.04283),
        (-11.830752, -1.27, -3.04283),
        (-11.35981, -1.27, -4.49224),
        (-7.782749, -1.27, -9.415643),
        (-6.549807, -1.27, -10.311428),
        (-0.762, -1.27, -12.192),
        (0.762, -1.27, -12.192),
        (6.549807, -1.27, -10.311428),
        (7.782749, -1.27, -9.415643),
        (11.830752, -1.27, -3.04283),
        (11.35981, -1.27, -4.49224),
        (11.830752, -1.27, 3.04283),
    ]]
    fillet(f5_edges, radius=F5_R)

    # F6 (on Top) → F7 (cut)
    with BuildSketch(Plane.XY):
        with Locations((0, -5.461)):
            Circle(F6_R)
    extrude(amount=F7_DEPTH, mode=Mode.SUBTRACT)


solid = f1.part
